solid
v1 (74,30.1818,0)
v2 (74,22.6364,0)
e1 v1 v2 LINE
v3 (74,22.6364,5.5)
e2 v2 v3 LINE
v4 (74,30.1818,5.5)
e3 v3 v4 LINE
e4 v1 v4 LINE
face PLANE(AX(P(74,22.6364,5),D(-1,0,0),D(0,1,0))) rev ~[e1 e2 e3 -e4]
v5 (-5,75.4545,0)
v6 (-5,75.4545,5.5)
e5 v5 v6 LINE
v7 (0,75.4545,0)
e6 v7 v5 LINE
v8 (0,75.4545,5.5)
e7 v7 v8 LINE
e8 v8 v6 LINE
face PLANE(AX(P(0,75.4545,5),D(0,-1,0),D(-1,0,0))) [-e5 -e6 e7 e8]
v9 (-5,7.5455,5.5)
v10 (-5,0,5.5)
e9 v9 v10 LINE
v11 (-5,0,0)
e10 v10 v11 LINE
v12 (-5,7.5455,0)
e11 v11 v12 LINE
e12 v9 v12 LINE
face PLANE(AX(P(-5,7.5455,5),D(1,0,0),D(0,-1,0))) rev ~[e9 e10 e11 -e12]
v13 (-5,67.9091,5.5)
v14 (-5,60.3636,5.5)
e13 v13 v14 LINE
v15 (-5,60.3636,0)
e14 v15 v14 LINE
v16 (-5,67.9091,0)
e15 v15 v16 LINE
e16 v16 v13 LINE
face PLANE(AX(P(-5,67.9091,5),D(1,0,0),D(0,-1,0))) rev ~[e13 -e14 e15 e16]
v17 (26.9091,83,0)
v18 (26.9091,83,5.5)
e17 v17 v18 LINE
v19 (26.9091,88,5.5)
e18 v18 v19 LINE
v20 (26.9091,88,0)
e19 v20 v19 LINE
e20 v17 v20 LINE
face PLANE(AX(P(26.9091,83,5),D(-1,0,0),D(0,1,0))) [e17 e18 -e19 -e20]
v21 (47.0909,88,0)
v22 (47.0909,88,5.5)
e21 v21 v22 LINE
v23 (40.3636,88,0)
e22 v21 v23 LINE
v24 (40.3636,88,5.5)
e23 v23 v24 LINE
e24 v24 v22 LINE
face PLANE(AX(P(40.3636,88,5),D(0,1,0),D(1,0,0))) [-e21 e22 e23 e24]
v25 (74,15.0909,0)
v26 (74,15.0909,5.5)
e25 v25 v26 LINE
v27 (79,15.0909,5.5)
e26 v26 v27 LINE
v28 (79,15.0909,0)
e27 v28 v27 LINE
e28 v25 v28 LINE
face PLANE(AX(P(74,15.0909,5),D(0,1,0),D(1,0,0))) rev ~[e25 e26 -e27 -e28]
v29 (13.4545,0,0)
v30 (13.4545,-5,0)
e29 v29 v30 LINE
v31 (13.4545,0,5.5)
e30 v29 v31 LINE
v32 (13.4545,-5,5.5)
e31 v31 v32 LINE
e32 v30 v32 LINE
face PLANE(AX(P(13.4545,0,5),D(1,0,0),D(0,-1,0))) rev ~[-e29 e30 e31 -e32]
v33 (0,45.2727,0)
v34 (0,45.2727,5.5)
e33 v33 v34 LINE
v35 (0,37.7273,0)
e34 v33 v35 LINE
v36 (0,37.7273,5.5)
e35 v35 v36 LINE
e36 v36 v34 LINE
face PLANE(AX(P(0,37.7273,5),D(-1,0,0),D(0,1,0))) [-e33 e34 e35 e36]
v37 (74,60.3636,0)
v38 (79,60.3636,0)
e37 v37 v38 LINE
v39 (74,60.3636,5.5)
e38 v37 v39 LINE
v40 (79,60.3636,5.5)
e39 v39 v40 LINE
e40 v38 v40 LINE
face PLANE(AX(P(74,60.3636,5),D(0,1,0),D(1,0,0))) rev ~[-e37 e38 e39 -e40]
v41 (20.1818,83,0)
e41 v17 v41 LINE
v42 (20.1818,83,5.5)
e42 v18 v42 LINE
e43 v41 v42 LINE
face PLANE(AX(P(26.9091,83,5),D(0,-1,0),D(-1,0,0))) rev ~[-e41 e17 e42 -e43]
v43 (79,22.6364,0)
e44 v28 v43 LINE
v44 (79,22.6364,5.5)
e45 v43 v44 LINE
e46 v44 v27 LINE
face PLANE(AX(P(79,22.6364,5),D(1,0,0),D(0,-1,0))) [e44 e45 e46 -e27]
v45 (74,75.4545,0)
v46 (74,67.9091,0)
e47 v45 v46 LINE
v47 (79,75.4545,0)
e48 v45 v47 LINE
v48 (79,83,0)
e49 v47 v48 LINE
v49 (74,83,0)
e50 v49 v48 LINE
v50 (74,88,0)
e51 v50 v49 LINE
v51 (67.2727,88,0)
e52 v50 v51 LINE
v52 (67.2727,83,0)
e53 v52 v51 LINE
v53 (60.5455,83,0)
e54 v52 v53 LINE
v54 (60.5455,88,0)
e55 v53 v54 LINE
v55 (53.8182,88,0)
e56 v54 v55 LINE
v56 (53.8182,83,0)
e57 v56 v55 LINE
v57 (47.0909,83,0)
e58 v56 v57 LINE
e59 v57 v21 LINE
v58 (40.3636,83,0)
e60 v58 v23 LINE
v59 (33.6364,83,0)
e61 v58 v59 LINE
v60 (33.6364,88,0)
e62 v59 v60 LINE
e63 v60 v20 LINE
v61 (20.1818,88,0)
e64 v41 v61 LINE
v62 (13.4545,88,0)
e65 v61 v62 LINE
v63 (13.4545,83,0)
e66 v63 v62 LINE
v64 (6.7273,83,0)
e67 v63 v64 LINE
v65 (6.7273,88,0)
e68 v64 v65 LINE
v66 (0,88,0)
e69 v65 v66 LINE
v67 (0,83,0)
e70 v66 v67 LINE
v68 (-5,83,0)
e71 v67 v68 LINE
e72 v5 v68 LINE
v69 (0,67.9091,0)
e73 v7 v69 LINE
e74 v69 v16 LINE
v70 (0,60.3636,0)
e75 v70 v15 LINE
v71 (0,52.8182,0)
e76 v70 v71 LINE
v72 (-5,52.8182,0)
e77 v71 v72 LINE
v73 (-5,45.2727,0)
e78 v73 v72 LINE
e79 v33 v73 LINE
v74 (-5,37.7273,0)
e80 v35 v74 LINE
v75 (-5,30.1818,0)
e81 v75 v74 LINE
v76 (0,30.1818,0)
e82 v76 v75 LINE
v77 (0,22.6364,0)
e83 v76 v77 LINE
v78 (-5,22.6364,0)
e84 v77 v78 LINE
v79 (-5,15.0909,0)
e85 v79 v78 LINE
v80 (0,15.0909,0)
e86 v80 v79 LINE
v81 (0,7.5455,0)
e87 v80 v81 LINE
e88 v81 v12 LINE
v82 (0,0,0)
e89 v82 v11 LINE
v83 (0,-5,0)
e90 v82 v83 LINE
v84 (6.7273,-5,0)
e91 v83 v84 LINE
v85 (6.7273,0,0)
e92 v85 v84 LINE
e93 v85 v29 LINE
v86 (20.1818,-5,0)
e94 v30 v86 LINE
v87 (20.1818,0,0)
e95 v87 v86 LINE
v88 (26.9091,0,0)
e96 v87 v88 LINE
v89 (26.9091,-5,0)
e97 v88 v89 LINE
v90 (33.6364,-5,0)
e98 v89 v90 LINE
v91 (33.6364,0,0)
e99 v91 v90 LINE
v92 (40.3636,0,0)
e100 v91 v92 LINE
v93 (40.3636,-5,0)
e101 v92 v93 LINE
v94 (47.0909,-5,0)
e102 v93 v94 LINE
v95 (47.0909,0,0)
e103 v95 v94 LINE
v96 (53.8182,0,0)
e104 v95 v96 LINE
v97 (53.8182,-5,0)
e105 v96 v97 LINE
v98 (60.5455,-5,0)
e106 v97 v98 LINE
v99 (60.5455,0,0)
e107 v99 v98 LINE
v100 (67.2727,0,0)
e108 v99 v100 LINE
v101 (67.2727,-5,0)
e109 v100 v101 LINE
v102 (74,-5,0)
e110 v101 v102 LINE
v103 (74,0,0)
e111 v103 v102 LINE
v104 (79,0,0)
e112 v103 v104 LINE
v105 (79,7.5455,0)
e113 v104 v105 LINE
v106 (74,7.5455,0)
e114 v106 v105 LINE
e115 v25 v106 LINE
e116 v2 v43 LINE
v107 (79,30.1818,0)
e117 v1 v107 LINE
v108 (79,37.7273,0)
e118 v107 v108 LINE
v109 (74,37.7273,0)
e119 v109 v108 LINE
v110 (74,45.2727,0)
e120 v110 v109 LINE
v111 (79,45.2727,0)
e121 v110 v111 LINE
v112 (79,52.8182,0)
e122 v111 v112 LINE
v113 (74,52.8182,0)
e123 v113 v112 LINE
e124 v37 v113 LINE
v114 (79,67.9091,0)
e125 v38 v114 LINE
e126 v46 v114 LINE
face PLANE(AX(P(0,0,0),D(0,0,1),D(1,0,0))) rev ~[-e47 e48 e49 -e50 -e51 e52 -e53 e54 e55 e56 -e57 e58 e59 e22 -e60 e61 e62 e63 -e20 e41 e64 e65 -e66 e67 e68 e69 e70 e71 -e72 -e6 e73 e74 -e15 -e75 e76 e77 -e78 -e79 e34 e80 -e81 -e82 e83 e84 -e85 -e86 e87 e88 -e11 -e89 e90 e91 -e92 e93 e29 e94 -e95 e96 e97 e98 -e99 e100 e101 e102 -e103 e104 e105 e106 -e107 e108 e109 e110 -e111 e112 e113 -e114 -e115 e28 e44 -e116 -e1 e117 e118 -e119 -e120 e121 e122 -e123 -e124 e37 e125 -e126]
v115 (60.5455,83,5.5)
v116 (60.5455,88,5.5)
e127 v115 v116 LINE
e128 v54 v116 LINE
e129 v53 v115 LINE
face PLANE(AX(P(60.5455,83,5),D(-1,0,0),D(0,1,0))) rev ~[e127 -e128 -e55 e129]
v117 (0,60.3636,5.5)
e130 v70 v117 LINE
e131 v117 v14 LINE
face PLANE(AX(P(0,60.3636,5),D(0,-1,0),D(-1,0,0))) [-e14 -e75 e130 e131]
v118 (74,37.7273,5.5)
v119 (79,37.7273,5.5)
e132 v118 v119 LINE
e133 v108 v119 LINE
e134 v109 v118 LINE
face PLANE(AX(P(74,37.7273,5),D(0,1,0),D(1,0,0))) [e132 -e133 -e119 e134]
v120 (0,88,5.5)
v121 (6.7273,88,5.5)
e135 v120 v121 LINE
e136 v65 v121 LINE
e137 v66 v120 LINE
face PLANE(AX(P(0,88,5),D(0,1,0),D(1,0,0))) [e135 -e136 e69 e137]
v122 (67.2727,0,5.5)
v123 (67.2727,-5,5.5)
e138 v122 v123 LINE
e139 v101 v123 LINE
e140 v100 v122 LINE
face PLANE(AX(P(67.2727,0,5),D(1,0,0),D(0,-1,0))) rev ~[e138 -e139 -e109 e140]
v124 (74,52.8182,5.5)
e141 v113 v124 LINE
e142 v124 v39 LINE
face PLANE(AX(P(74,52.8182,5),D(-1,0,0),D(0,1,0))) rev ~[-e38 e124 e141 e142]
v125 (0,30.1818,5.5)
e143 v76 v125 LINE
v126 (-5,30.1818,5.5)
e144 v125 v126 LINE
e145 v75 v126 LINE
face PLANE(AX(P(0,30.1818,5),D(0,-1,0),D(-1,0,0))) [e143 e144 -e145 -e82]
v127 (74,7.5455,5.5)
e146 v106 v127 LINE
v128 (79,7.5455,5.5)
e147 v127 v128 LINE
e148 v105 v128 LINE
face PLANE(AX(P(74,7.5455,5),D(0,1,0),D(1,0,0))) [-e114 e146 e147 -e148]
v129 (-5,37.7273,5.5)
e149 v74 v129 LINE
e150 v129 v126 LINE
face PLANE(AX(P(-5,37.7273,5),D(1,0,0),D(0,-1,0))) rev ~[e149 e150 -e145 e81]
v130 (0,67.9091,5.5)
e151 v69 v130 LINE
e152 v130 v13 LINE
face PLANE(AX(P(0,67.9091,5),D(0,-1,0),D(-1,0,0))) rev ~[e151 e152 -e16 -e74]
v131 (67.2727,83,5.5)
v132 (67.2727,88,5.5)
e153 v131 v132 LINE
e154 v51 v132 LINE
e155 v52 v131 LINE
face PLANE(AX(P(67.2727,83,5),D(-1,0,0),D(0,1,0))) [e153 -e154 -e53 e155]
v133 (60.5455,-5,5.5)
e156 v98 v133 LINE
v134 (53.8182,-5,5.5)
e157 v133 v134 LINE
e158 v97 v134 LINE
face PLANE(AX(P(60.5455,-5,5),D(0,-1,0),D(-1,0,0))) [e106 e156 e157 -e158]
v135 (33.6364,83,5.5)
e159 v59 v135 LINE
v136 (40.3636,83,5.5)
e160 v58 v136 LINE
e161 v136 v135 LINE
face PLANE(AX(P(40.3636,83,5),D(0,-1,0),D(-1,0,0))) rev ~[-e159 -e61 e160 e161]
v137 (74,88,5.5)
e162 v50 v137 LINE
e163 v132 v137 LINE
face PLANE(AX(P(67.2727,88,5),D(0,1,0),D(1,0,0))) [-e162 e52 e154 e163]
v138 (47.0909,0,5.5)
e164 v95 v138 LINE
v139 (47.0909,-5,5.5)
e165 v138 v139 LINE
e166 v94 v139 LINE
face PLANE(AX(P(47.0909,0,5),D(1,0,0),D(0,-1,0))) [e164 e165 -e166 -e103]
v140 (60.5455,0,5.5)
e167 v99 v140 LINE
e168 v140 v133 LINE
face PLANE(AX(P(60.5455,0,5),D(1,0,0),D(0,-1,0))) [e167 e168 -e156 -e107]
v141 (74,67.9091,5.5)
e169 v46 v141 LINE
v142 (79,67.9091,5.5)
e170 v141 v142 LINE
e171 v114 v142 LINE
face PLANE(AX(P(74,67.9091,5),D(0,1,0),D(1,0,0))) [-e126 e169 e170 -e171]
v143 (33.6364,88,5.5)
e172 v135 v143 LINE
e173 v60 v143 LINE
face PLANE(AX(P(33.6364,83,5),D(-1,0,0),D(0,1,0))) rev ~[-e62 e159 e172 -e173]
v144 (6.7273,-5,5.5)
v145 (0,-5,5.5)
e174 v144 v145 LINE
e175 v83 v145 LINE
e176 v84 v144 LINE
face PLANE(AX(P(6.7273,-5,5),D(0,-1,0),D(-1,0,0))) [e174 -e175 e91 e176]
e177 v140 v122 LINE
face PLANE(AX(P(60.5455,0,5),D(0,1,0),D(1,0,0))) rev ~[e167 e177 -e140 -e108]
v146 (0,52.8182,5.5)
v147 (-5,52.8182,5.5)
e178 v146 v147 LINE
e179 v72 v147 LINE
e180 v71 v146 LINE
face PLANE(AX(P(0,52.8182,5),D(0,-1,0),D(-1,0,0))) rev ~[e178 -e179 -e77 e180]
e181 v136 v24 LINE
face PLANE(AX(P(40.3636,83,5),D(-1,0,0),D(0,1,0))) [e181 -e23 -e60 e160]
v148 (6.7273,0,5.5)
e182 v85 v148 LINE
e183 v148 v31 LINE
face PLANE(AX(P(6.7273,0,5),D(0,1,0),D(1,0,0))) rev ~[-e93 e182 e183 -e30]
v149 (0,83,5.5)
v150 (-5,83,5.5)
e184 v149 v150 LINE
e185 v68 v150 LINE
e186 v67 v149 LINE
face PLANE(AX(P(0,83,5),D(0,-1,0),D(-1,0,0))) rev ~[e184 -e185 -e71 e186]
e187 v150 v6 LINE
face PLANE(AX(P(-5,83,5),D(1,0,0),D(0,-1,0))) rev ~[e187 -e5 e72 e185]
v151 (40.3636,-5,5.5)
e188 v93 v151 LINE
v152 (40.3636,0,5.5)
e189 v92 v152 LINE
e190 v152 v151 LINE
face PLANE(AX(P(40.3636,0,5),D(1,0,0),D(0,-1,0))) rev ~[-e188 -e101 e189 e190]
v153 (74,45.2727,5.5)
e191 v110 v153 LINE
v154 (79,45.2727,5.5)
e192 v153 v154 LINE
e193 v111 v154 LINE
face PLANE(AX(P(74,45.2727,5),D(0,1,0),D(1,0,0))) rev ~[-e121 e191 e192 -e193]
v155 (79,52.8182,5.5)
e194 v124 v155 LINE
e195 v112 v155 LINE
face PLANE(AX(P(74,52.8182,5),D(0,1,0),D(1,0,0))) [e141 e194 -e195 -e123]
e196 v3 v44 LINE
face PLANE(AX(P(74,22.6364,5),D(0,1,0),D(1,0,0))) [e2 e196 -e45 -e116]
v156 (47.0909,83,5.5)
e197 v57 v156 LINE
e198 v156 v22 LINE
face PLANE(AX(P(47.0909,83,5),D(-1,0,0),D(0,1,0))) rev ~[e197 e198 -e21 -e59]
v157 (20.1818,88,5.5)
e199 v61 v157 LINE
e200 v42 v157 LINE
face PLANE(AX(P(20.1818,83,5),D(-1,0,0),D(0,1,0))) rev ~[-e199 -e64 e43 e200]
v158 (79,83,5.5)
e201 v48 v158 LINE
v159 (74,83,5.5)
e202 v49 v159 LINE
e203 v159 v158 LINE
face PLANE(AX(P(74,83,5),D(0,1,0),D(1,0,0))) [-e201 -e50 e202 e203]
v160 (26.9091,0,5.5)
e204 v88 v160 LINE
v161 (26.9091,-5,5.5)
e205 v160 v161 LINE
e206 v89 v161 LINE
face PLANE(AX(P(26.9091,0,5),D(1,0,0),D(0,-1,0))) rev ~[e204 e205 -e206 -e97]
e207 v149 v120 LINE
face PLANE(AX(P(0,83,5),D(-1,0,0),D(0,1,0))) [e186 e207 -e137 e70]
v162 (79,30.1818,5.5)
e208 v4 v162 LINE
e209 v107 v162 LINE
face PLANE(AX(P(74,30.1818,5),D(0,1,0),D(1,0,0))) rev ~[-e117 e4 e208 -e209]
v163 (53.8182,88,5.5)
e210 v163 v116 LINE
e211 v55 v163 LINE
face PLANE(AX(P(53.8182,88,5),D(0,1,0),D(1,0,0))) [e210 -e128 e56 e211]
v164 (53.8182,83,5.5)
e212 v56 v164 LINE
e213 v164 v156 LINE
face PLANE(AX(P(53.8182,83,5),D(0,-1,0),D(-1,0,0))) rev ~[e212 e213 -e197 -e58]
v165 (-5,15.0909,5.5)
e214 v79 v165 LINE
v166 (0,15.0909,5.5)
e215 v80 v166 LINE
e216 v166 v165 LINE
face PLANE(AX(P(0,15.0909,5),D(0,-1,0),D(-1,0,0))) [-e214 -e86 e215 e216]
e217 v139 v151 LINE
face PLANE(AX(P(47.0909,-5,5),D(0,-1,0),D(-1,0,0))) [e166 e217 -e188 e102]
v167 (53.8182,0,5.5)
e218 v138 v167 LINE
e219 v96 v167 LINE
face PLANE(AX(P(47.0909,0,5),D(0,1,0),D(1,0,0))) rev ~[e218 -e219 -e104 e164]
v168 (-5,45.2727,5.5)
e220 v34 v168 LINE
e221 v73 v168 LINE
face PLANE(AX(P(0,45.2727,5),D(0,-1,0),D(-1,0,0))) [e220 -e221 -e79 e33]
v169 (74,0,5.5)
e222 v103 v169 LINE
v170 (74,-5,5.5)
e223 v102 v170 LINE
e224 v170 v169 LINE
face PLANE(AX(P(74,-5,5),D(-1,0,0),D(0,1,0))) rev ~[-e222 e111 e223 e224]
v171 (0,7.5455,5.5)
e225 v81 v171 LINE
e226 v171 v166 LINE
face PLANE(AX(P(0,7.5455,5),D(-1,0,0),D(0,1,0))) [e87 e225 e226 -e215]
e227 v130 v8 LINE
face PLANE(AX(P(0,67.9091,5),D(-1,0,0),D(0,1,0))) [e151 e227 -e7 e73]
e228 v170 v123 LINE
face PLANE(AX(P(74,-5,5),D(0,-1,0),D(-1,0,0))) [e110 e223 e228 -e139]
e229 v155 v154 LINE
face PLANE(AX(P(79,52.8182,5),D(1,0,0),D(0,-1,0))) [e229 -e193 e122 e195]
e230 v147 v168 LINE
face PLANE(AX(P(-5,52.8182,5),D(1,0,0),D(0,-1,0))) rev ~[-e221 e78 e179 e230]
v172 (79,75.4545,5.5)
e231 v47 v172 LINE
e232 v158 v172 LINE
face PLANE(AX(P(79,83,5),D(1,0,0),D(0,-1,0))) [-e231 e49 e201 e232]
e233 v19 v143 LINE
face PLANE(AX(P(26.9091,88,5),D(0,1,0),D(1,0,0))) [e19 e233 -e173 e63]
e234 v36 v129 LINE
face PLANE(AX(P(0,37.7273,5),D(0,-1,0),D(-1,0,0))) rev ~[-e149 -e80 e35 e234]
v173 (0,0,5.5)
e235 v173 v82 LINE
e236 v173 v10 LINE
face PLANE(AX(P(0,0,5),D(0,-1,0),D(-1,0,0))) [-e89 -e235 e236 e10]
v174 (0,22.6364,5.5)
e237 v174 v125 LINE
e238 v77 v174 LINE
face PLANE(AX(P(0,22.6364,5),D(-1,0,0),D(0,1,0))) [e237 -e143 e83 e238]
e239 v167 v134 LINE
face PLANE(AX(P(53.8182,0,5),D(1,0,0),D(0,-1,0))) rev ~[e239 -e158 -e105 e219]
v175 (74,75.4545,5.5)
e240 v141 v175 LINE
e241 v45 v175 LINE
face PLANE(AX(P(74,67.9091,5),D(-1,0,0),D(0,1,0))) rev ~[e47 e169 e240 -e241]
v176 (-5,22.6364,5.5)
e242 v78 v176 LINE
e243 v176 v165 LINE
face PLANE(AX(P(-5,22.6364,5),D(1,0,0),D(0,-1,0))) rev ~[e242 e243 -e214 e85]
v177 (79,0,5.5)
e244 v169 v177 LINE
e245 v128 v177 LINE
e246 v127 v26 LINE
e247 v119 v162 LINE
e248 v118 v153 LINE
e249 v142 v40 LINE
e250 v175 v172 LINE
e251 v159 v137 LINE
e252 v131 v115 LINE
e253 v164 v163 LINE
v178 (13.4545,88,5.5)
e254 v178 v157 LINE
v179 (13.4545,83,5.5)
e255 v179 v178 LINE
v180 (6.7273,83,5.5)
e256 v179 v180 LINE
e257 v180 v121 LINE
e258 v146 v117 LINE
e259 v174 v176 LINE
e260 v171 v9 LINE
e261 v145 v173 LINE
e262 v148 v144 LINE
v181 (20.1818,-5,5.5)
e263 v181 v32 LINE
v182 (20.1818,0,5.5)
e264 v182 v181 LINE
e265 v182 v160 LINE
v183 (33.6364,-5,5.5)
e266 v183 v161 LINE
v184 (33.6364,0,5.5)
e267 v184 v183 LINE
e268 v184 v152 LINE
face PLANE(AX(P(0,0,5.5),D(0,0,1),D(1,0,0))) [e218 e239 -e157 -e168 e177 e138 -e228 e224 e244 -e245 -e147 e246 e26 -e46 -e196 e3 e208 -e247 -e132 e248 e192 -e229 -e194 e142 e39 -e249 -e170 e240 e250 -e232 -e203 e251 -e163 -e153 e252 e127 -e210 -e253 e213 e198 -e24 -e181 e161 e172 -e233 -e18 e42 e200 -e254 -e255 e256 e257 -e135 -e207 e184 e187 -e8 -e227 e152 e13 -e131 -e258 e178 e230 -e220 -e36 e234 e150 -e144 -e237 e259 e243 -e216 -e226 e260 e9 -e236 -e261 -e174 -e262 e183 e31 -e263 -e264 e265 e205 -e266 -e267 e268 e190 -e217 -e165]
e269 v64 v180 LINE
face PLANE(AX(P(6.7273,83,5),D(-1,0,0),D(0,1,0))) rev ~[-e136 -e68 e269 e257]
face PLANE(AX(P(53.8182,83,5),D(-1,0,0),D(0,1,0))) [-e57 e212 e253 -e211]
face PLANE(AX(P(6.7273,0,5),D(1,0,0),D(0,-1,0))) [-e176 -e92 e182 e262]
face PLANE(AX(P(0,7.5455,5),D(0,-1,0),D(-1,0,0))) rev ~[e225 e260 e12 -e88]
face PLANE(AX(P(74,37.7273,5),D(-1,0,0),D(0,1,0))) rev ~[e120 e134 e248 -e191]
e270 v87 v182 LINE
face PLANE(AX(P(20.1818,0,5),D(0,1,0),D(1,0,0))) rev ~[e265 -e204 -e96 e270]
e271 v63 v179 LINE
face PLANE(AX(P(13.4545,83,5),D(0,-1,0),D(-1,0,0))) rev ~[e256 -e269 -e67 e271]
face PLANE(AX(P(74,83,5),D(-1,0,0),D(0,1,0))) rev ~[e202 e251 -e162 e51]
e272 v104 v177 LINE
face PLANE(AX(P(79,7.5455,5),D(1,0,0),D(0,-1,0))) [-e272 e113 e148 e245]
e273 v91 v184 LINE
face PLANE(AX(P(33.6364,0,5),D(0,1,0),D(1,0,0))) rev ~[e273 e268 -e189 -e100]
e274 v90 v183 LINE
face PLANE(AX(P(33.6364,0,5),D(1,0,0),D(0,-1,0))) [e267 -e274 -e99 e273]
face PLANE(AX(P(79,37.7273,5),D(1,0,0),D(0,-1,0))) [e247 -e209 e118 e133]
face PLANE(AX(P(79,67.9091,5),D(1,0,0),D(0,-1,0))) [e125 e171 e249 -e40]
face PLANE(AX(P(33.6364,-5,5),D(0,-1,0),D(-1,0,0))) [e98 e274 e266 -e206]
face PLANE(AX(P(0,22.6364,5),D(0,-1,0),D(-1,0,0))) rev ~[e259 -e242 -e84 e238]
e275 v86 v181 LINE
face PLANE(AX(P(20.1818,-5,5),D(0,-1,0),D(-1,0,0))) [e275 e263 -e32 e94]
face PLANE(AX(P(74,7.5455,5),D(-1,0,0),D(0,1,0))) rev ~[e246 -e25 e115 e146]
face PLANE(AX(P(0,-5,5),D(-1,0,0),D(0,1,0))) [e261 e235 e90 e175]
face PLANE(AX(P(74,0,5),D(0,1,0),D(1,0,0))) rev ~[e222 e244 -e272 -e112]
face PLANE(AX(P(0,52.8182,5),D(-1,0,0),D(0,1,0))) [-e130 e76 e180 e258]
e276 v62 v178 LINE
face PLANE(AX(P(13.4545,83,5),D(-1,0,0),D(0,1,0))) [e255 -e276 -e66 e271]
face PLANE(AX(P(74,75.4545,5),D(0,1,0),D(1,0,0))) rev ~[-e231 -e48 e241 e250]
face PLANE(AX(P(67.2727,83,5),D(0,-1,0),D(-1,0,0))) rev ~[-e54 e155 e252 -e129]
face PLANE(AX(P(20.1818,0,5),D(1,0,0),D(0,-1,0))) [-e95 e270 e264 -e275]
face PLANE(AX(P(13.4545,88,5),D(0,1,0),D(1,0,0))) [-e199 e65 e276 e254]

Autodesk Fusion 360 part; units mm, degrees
sketch "Sketch1" plane through (0, 0, 0) normal (0, 0, 1) x (1, 0, 0)
  line L0 (0, 0) -> (74, 0)
  line L1 (74, 0) -> (74, 83)
  line L2 (74, 83) -> (0, 83)
  line L3 (0, 83) -> (0, 0)
  dimension "d6" = 74
  dimension "d7" = 83
extrude "Extrude1" add sketch "Sketch1" along normal blind 5
sketch "Sketch2" plane through (0, 0, 0) normal (0, -1, 0) x (1, 0, 0)
  line L0 (0, 0) -> (74, 0)
  line L1 (74, 0) -> (74, 5)
  line L2 (74, 5) -> (0, 5)
  line L3 (0, 5) -> (0, 0)
  line L4 (0, 5) -> (6.7273, 5)
  line L5 (6.7273, 5) -> (6.7273, 0)
  line L6 (6.7273, 0) -> (0, 0)
  line L7 (0, 0) -> (0, 5)
  line L8 (20.1818, 0) -> (13.4545, 0)
  line L9 (13.4545, 0) -> (13.4545, 5)
  line L10 (20.1818, 5) -> (20.1818, 0)
  line L11 (13.4545, 5) -> (20.1818, 5)
  line L12 (33.6364, 0) -> (26.9091, 0)
  line L13 (26.9091, 0) -> (26.9091, 5)
  line L14 (33.6364, 5) -> (33.6364, 0)
  line L15 (26.9091, 5) -> (33.6364, 5)
  line L16 (47.0909, 0) -> (40.3636, 0)
  line L17 (40.3636, 0) -> (40.3636, 5)
  line L18 (47.0909, 5) -> (47.0909, 0)
  line L19 (40.3636, 5) -> (47.0909, 5)
  line L20 (60.5455, 0) -> (53.8182, 0)
  line L21 (53.8182, 0) -> (53.8182, 5)
  line L22 (60.5455, 5) -> (60.5455, 0)
  line L23 (53.8182, 5) -> (60.5455, 5)
  line L24 (74, 0) -> (67.2727, 0)
  line L25 (67.2727, 0) -> (67.2727, 5)
  line L26 (74, 5) -> (74, 0)
  line L27 (67.2727, 5) -> (74, 5)
  dimension "d10" = 6.7273
  dimension "d13" = 67.2727
  dimension "d14" = 0
extrude "Extrude2" add sketch "Sketch2" along normal blind 5 contours L0 L2 L3 L4 L5 L6 L7 | L0 L2 L8 L9 L10 L11 | L0 L2 L12 L13 L14 L15 | L0 L2 L16 L17 L18 L19 | L0 L2 L20 L21 L22 L23 | L0 L1 L2 L24 L25 L26 L27
sketch "Sketch3" plane through (0, 83, 0) normal (0, 1, 0) x (-1, 0, 0)
  line L0 (-74, 0) -> (0, 0)
  line L1 (0, 0) -> (0, 5)
  line L2 (0, 5) -> (-74, 5)
  line L3 (-74, 5) -> (-74, 0)
  line L4 (-74, 5) -> (-67.2727, 5)
  line L5 (-67.2727, 5) -> (-67.2727, 0)
  line L6 (-67.2727, 0) -> (-74, 0)
  line L7 (-74, 0) -> (-74, 5)
  line L8 (-53.8182, 0) -> (-60.5455, 0)
  line L9 (-60.5455, 0) -> (-60.5455, 5)
  line L10 (-53.8182, 5) -> (-53.8182, 0)
  line L11 (-60.5455, 5) -> (-53.8182, 5)
  line L12 (-40.3636, 0) -> (-47.0909, 0)
  line L13 (-47.0909, 0) -> (-47.0909, 5)
  line L14 (-40.3636, 5) -> (-40.3636, 0)
  line L15 (-47.0909, 5) -> (-40.3636, 5)
  line L16 (-26.9091, 0) -> (-33.6364, 0)
  line L17 (-33.6364, 0) -> (-33.6364, 5)
  line L18 (-26.9091, 5) -> (-26.9091, 0)
  line L19 (-33.6364, 5) -> (-26.9091, 5)
  line L20 (-13.4545, 0) -> (-20.1818, 0)
  line L21 (-20.1818, 0) -> (-20.1818, 5)
  line L22 (-13.4545, 5) -> (-13.4545, 0)
  line L23 (-20.1818, 5) -> (-13.4545, 5)
  line L24 (0, 0) -> (-6.7273, 0)
  line L25 (-6.7273, 0) -> (-6.7273, 5)
  line L26 (0, 5) -> (0, 0)
  line L27 (-6.7273, 5) -> (0, 5)
  dimension "d17" = 6.7273
  dimension "d20" = 67.2727
  dimension "d21" = 0
extrude "Extrude3" add sketch "Sketch3" along normal blind 5 contours L0 L2 L3 L4 L5 L6 L7 | L0 L2 L8 L9 L10 L11 | L0 L2 L12 L13 L14 L15 | L0 L2 L16 L17 L18 L19 | L0 L2 L20 L21 L22 L23 | L0 L1 L2 L24 L25 L26 L27
sketch "Sketch4" plane through (0, 0, 0) normal (1, 0, 0) x (0, 1, 0)
  line L0 (0, 0) -> (7.5455, 0)
  line L1 (7.5455, 0) -> (7.5455, 5)
  line L2 (7.5455, 5) -> (0, 5)
  line L3 (0, 5) -> (0, 0)
  line L4 (88, 5) -> (-5, 5)
  line L5 (15.0909, 0) -> (22.6364, 0)
  line L6 (22.6364, 0) -> (22.6364, 5)
  line L7 (22.6364, 5) -> (15.0909, 5)
  line L8 (15.0909, 5) -> (15.0909, 0)
  line L9 (30.1818, 0) -> (37.7273, 0)
  line L10 (37.7273, 0) -> (37.7273, 5)
  line L11 (37.7273, 5) -> (30.1818, 5)
  line L12 (30.1818, 5) -> (30.1818, 0)
  line L13 (45.2727, 0) -> (52.8182, 0)
  line L14 (52.8182, 0) -> (52.8182, 5)
  line L15 (52.8182, 5) -> (45.2727, 5)
  line L16 (45.2727, 5) -> (45.2727, 0)
  line L17 (60.3636, 0) -> (67.9091, 0)
  line L18 (67.9091, 0) -> (67.9091, 5)
  line L19 (67.9091, 5) -> (60.3636, 5)
  line L20 (60.3636, 5) -> (60.3636, 0)
  line L21 (75.4545, 0) -> (83, 0)
  line L22 (83, 0) -> (83, 5)
  line L23 (83, 5) -> (75.4545, 5)
  line L24 (75.4545, 5) -> (75.4545, 0)
  dimension "d24" = 7.5455
  dimension "d27" = 75.4545
  dimension "d28" = 0
extrude "Extrude4" add sketch "Sketch4" against normal blind 5
sketch "Sketch5" plane through (74, 0, 0) normal (1, 0, 0) x (0, 1, 0)
  line L0 (-5, 0) -> (88, 0)
  line L1 (88, 0) -> (88, 5)
  line L2 (88, 5) -> (-5, 5)
  line L3 (-5, 5) -> (-5, 0)
  line L4 (0, 0) -> (7.5455, 0)
  line L5 (7.5455, 0) -> (7.5455, 5)
  line L6 (7.5455, 5) -> (0, 5)
  line L7 (0, 5) -> (0, 0)
  line L8 (15.0909, 0) -> (22.6364, 0)
  line L9 (22.6364, 0) -> (22.6364, 5)
  line L10 (22.6364, 5) -> (15.0909, 5)
  line L11 (15.0909, 5) -> (15.0909, 0)
  line L12 (30.1818, 0) -> (37.7273, 0)
  line L13 (37.7273, 0) -> (37.7273, 5)
  line L14 (37.7273, 5) -> (30.1818, 5)
  line L15 (30.1818, 5) -> (30.1818, 0)
  line L16 (45.2727, 0) -> (52.8182, 0)
  line L17 (52.8182, 0) -> (52.8182, 5)
  line L18 (52.8182, 5) -> (45.2727, 5)
  line L19 (45.2727, 5) -> (45.2727, 0)
  line L20 (60.3636, 0) -> (67.9091, 0)
  line L21 (67.9091, 0) -> (67.9091, 5)
  line L22 (67.9091, 5) -> (60.3636, 5)
  line L23 (60.3636, 5) -> (60.3636, 0)
  line L24 (75.4545, 0) -> (83, 0)
  line L25 (83, 0) -> (83, 5)
  line L26 (83, 5) -> (75.4545, 5)
  line L27 (75.4545, 5) -> (75.4545, 0)
  dimension "d31" = 7.5455
  dimension "d34" = 75.4545
  dimension "d35" = 0
extrude "Extrude5" add sketch "Sketch5" along normal blind 5 contours L0 L2 L4 L5 L6 L7 | L0 L2 L8 L9 L10 L11 | L0 L2 L12 L13 L14 L15 | L0 L2 L16 L17 L18 L19 | L0 L2 L20 L21 L22 L23 | L0 L2 L24 L25 L26 L27
extrude "Extrude6" add 1 faces at (38.1212, 25.1515, 5) along direction (0, 0, 1) blind 0.5
sketch "Sketch6" plane through (79, 0, 0) normal (1, 0, 0) x (0, 1, 0)
  line L0 (75.4545, 5.5) -> (75.4545, 0)
  line L1 (75.4545, 0) -> (83, 0)
  line L2 (83, 0) -> (83, 5.5)
  line L3 (83, 5.5) -> (75.4545, 5.5)
sketch "Sketch7" plane through (0, 0, 0) normal (0, 0, 1) x (1, 0, 0)
  line L0 (79, 75.4545) -> (79, 83) construction
  line L1 (79, 83) -> (91, 83) construction
  line L2 (91, 83) -> (101, 83)
  line L3 (101, 83) -> (101, -6)
  line L4 (101, -6) -> (91, -6)
  line L5 (91, -6) -> (91, 83)
  line L6 (91, 83) -> (101, 83)
  line L7 (101, 83) -> (101, 89)
  line L8 (101, 89) -> (91, 89)
  line L9 (91, 89) -> (91, 83)
  line L10 (91, 83) -> (85, 83)
  line L11 (85, 83) -> (85, 89)
  line L12 (85, 89) -> (91, 89)
  line L13 (91, 89) -> (91, 83)
  line L14 (91, -6) -> (85, -6)
  line L15 (85, -6) -> (85, 0)
  line L16 (85, 0) -> (91, 0)
  line L17 (91, 0) -> (91, -6)
  point P0 (79, 83)
  dimension "d40" = 12
  dimension "d41" = 89
  dimension "d42" = 10
  dimension "d43" = 6
  dimension "d44" = 6
  dimension "d45" = 6
  dimension "d46" = 6
  dimension "d47" = 6
sketch "Sketch8" plane through (91, 0, 0) normal (-1, 0, 0) x (0, -1, 0)
  line L0 (-82, 0) -> (0, 0)
  line L1 (0, 0) -> (0, 6.5)
  line L2 (0, 6.5) -> (-82, 6.5)
  line L3 (-82, 6.5) -> (-82, 0)
  line L4 (-74.4545, 6.5) -> (-66.9091, 6.5)
  line L5 (-66.9091, 6.5) -> (-66.9091, 0)
  line L6 (-66.9091, 0) -> (-74.4545, 0)
  line L7 (-74.4545, 0) -> (-74.4545, 6.5)
  line L8 (-51.8182, 0) -> (-59.3636, 0)
  line L9 (-59.3636, 0) -> (-59.3636, 6.5)
  line L10 (-51.8182, 6.5) -> (-51.8182, 0)
  line L11 (-59.3636, 6.5) -> (-51.8182, 6.5)
  line L12 (-36.7273, 0) -> (-44.2727, 0)
  line L13 (-44.2727, 0) -> (-44.2727, 6.5)
  line L14 (-36.7273, 6.5) -> (-36.7273, 0)
  line L15 (-44.2727, 6.5) -> (-36.7273, 6.5)
  line L16 (-21.6364, 0) -> (-29.1818, 0)
  line L17 (-29.1818, 0) -> (-29.1818, 6.5)
  line L18 (-21.6364, 6.5) -> (-21.6364, 0)
  line L19 (-29.1818, 6.5) -> (-21.6364, 6.5)
  line L20 (-6.5455, 0) -> (-14.0909, 0)
  line L21 (-14.0909, 0) -> (-14.0909, 6.5)
  line L22 (-6.5455, 6.5) -> (-6.5455, 0)
  line L23 (-14.0909, 6.5) -> (-6.5455, 6.5)
  dimension "d50" = 7.5455
  dimension "d51" = 7.5455
  dimension "d54" = 60.3636
  dimension "d55" = 0
sketch "Sketch9" plane through (0, 0, 0) normal (0, 0, 1) x (1, 0, 0)
equation "paksus = 5 mm"
equation "laius = 74 mm"
equation "pikkus = 83 mm"
equation "laius_tapp = laius / 11"
equation "pikkus_tapp = pikkus / 11"
equation "d6 = laius"
equation "d7 = pikkus"
equation "d8 = paksus"
equation "d10 = laius_tapp"
equation "d13 = laius - laius_tapp"
equation "d15 = paksus"
equation "d17 = laius_tapp"
equation "d20 = laius - laius_tapp"
equation "d22 = paksus"
equation "d24 = pikkus_tapp"
equation "d27 = pikkus - pikkus_tapp"
equation "d29 = -paksus"
equation "d31 = pikkus_tapp"
equation "d34 = pikkus - pikkus_tapp"
equation "d36 = paksus"
equation "d41 = pikkus + 6 mm"
equation "d50 = pikkus_tapp"
equation "d51 = pikkus_tapp"
equation "d54 = pikkus - pikkus_tapp * 3"
